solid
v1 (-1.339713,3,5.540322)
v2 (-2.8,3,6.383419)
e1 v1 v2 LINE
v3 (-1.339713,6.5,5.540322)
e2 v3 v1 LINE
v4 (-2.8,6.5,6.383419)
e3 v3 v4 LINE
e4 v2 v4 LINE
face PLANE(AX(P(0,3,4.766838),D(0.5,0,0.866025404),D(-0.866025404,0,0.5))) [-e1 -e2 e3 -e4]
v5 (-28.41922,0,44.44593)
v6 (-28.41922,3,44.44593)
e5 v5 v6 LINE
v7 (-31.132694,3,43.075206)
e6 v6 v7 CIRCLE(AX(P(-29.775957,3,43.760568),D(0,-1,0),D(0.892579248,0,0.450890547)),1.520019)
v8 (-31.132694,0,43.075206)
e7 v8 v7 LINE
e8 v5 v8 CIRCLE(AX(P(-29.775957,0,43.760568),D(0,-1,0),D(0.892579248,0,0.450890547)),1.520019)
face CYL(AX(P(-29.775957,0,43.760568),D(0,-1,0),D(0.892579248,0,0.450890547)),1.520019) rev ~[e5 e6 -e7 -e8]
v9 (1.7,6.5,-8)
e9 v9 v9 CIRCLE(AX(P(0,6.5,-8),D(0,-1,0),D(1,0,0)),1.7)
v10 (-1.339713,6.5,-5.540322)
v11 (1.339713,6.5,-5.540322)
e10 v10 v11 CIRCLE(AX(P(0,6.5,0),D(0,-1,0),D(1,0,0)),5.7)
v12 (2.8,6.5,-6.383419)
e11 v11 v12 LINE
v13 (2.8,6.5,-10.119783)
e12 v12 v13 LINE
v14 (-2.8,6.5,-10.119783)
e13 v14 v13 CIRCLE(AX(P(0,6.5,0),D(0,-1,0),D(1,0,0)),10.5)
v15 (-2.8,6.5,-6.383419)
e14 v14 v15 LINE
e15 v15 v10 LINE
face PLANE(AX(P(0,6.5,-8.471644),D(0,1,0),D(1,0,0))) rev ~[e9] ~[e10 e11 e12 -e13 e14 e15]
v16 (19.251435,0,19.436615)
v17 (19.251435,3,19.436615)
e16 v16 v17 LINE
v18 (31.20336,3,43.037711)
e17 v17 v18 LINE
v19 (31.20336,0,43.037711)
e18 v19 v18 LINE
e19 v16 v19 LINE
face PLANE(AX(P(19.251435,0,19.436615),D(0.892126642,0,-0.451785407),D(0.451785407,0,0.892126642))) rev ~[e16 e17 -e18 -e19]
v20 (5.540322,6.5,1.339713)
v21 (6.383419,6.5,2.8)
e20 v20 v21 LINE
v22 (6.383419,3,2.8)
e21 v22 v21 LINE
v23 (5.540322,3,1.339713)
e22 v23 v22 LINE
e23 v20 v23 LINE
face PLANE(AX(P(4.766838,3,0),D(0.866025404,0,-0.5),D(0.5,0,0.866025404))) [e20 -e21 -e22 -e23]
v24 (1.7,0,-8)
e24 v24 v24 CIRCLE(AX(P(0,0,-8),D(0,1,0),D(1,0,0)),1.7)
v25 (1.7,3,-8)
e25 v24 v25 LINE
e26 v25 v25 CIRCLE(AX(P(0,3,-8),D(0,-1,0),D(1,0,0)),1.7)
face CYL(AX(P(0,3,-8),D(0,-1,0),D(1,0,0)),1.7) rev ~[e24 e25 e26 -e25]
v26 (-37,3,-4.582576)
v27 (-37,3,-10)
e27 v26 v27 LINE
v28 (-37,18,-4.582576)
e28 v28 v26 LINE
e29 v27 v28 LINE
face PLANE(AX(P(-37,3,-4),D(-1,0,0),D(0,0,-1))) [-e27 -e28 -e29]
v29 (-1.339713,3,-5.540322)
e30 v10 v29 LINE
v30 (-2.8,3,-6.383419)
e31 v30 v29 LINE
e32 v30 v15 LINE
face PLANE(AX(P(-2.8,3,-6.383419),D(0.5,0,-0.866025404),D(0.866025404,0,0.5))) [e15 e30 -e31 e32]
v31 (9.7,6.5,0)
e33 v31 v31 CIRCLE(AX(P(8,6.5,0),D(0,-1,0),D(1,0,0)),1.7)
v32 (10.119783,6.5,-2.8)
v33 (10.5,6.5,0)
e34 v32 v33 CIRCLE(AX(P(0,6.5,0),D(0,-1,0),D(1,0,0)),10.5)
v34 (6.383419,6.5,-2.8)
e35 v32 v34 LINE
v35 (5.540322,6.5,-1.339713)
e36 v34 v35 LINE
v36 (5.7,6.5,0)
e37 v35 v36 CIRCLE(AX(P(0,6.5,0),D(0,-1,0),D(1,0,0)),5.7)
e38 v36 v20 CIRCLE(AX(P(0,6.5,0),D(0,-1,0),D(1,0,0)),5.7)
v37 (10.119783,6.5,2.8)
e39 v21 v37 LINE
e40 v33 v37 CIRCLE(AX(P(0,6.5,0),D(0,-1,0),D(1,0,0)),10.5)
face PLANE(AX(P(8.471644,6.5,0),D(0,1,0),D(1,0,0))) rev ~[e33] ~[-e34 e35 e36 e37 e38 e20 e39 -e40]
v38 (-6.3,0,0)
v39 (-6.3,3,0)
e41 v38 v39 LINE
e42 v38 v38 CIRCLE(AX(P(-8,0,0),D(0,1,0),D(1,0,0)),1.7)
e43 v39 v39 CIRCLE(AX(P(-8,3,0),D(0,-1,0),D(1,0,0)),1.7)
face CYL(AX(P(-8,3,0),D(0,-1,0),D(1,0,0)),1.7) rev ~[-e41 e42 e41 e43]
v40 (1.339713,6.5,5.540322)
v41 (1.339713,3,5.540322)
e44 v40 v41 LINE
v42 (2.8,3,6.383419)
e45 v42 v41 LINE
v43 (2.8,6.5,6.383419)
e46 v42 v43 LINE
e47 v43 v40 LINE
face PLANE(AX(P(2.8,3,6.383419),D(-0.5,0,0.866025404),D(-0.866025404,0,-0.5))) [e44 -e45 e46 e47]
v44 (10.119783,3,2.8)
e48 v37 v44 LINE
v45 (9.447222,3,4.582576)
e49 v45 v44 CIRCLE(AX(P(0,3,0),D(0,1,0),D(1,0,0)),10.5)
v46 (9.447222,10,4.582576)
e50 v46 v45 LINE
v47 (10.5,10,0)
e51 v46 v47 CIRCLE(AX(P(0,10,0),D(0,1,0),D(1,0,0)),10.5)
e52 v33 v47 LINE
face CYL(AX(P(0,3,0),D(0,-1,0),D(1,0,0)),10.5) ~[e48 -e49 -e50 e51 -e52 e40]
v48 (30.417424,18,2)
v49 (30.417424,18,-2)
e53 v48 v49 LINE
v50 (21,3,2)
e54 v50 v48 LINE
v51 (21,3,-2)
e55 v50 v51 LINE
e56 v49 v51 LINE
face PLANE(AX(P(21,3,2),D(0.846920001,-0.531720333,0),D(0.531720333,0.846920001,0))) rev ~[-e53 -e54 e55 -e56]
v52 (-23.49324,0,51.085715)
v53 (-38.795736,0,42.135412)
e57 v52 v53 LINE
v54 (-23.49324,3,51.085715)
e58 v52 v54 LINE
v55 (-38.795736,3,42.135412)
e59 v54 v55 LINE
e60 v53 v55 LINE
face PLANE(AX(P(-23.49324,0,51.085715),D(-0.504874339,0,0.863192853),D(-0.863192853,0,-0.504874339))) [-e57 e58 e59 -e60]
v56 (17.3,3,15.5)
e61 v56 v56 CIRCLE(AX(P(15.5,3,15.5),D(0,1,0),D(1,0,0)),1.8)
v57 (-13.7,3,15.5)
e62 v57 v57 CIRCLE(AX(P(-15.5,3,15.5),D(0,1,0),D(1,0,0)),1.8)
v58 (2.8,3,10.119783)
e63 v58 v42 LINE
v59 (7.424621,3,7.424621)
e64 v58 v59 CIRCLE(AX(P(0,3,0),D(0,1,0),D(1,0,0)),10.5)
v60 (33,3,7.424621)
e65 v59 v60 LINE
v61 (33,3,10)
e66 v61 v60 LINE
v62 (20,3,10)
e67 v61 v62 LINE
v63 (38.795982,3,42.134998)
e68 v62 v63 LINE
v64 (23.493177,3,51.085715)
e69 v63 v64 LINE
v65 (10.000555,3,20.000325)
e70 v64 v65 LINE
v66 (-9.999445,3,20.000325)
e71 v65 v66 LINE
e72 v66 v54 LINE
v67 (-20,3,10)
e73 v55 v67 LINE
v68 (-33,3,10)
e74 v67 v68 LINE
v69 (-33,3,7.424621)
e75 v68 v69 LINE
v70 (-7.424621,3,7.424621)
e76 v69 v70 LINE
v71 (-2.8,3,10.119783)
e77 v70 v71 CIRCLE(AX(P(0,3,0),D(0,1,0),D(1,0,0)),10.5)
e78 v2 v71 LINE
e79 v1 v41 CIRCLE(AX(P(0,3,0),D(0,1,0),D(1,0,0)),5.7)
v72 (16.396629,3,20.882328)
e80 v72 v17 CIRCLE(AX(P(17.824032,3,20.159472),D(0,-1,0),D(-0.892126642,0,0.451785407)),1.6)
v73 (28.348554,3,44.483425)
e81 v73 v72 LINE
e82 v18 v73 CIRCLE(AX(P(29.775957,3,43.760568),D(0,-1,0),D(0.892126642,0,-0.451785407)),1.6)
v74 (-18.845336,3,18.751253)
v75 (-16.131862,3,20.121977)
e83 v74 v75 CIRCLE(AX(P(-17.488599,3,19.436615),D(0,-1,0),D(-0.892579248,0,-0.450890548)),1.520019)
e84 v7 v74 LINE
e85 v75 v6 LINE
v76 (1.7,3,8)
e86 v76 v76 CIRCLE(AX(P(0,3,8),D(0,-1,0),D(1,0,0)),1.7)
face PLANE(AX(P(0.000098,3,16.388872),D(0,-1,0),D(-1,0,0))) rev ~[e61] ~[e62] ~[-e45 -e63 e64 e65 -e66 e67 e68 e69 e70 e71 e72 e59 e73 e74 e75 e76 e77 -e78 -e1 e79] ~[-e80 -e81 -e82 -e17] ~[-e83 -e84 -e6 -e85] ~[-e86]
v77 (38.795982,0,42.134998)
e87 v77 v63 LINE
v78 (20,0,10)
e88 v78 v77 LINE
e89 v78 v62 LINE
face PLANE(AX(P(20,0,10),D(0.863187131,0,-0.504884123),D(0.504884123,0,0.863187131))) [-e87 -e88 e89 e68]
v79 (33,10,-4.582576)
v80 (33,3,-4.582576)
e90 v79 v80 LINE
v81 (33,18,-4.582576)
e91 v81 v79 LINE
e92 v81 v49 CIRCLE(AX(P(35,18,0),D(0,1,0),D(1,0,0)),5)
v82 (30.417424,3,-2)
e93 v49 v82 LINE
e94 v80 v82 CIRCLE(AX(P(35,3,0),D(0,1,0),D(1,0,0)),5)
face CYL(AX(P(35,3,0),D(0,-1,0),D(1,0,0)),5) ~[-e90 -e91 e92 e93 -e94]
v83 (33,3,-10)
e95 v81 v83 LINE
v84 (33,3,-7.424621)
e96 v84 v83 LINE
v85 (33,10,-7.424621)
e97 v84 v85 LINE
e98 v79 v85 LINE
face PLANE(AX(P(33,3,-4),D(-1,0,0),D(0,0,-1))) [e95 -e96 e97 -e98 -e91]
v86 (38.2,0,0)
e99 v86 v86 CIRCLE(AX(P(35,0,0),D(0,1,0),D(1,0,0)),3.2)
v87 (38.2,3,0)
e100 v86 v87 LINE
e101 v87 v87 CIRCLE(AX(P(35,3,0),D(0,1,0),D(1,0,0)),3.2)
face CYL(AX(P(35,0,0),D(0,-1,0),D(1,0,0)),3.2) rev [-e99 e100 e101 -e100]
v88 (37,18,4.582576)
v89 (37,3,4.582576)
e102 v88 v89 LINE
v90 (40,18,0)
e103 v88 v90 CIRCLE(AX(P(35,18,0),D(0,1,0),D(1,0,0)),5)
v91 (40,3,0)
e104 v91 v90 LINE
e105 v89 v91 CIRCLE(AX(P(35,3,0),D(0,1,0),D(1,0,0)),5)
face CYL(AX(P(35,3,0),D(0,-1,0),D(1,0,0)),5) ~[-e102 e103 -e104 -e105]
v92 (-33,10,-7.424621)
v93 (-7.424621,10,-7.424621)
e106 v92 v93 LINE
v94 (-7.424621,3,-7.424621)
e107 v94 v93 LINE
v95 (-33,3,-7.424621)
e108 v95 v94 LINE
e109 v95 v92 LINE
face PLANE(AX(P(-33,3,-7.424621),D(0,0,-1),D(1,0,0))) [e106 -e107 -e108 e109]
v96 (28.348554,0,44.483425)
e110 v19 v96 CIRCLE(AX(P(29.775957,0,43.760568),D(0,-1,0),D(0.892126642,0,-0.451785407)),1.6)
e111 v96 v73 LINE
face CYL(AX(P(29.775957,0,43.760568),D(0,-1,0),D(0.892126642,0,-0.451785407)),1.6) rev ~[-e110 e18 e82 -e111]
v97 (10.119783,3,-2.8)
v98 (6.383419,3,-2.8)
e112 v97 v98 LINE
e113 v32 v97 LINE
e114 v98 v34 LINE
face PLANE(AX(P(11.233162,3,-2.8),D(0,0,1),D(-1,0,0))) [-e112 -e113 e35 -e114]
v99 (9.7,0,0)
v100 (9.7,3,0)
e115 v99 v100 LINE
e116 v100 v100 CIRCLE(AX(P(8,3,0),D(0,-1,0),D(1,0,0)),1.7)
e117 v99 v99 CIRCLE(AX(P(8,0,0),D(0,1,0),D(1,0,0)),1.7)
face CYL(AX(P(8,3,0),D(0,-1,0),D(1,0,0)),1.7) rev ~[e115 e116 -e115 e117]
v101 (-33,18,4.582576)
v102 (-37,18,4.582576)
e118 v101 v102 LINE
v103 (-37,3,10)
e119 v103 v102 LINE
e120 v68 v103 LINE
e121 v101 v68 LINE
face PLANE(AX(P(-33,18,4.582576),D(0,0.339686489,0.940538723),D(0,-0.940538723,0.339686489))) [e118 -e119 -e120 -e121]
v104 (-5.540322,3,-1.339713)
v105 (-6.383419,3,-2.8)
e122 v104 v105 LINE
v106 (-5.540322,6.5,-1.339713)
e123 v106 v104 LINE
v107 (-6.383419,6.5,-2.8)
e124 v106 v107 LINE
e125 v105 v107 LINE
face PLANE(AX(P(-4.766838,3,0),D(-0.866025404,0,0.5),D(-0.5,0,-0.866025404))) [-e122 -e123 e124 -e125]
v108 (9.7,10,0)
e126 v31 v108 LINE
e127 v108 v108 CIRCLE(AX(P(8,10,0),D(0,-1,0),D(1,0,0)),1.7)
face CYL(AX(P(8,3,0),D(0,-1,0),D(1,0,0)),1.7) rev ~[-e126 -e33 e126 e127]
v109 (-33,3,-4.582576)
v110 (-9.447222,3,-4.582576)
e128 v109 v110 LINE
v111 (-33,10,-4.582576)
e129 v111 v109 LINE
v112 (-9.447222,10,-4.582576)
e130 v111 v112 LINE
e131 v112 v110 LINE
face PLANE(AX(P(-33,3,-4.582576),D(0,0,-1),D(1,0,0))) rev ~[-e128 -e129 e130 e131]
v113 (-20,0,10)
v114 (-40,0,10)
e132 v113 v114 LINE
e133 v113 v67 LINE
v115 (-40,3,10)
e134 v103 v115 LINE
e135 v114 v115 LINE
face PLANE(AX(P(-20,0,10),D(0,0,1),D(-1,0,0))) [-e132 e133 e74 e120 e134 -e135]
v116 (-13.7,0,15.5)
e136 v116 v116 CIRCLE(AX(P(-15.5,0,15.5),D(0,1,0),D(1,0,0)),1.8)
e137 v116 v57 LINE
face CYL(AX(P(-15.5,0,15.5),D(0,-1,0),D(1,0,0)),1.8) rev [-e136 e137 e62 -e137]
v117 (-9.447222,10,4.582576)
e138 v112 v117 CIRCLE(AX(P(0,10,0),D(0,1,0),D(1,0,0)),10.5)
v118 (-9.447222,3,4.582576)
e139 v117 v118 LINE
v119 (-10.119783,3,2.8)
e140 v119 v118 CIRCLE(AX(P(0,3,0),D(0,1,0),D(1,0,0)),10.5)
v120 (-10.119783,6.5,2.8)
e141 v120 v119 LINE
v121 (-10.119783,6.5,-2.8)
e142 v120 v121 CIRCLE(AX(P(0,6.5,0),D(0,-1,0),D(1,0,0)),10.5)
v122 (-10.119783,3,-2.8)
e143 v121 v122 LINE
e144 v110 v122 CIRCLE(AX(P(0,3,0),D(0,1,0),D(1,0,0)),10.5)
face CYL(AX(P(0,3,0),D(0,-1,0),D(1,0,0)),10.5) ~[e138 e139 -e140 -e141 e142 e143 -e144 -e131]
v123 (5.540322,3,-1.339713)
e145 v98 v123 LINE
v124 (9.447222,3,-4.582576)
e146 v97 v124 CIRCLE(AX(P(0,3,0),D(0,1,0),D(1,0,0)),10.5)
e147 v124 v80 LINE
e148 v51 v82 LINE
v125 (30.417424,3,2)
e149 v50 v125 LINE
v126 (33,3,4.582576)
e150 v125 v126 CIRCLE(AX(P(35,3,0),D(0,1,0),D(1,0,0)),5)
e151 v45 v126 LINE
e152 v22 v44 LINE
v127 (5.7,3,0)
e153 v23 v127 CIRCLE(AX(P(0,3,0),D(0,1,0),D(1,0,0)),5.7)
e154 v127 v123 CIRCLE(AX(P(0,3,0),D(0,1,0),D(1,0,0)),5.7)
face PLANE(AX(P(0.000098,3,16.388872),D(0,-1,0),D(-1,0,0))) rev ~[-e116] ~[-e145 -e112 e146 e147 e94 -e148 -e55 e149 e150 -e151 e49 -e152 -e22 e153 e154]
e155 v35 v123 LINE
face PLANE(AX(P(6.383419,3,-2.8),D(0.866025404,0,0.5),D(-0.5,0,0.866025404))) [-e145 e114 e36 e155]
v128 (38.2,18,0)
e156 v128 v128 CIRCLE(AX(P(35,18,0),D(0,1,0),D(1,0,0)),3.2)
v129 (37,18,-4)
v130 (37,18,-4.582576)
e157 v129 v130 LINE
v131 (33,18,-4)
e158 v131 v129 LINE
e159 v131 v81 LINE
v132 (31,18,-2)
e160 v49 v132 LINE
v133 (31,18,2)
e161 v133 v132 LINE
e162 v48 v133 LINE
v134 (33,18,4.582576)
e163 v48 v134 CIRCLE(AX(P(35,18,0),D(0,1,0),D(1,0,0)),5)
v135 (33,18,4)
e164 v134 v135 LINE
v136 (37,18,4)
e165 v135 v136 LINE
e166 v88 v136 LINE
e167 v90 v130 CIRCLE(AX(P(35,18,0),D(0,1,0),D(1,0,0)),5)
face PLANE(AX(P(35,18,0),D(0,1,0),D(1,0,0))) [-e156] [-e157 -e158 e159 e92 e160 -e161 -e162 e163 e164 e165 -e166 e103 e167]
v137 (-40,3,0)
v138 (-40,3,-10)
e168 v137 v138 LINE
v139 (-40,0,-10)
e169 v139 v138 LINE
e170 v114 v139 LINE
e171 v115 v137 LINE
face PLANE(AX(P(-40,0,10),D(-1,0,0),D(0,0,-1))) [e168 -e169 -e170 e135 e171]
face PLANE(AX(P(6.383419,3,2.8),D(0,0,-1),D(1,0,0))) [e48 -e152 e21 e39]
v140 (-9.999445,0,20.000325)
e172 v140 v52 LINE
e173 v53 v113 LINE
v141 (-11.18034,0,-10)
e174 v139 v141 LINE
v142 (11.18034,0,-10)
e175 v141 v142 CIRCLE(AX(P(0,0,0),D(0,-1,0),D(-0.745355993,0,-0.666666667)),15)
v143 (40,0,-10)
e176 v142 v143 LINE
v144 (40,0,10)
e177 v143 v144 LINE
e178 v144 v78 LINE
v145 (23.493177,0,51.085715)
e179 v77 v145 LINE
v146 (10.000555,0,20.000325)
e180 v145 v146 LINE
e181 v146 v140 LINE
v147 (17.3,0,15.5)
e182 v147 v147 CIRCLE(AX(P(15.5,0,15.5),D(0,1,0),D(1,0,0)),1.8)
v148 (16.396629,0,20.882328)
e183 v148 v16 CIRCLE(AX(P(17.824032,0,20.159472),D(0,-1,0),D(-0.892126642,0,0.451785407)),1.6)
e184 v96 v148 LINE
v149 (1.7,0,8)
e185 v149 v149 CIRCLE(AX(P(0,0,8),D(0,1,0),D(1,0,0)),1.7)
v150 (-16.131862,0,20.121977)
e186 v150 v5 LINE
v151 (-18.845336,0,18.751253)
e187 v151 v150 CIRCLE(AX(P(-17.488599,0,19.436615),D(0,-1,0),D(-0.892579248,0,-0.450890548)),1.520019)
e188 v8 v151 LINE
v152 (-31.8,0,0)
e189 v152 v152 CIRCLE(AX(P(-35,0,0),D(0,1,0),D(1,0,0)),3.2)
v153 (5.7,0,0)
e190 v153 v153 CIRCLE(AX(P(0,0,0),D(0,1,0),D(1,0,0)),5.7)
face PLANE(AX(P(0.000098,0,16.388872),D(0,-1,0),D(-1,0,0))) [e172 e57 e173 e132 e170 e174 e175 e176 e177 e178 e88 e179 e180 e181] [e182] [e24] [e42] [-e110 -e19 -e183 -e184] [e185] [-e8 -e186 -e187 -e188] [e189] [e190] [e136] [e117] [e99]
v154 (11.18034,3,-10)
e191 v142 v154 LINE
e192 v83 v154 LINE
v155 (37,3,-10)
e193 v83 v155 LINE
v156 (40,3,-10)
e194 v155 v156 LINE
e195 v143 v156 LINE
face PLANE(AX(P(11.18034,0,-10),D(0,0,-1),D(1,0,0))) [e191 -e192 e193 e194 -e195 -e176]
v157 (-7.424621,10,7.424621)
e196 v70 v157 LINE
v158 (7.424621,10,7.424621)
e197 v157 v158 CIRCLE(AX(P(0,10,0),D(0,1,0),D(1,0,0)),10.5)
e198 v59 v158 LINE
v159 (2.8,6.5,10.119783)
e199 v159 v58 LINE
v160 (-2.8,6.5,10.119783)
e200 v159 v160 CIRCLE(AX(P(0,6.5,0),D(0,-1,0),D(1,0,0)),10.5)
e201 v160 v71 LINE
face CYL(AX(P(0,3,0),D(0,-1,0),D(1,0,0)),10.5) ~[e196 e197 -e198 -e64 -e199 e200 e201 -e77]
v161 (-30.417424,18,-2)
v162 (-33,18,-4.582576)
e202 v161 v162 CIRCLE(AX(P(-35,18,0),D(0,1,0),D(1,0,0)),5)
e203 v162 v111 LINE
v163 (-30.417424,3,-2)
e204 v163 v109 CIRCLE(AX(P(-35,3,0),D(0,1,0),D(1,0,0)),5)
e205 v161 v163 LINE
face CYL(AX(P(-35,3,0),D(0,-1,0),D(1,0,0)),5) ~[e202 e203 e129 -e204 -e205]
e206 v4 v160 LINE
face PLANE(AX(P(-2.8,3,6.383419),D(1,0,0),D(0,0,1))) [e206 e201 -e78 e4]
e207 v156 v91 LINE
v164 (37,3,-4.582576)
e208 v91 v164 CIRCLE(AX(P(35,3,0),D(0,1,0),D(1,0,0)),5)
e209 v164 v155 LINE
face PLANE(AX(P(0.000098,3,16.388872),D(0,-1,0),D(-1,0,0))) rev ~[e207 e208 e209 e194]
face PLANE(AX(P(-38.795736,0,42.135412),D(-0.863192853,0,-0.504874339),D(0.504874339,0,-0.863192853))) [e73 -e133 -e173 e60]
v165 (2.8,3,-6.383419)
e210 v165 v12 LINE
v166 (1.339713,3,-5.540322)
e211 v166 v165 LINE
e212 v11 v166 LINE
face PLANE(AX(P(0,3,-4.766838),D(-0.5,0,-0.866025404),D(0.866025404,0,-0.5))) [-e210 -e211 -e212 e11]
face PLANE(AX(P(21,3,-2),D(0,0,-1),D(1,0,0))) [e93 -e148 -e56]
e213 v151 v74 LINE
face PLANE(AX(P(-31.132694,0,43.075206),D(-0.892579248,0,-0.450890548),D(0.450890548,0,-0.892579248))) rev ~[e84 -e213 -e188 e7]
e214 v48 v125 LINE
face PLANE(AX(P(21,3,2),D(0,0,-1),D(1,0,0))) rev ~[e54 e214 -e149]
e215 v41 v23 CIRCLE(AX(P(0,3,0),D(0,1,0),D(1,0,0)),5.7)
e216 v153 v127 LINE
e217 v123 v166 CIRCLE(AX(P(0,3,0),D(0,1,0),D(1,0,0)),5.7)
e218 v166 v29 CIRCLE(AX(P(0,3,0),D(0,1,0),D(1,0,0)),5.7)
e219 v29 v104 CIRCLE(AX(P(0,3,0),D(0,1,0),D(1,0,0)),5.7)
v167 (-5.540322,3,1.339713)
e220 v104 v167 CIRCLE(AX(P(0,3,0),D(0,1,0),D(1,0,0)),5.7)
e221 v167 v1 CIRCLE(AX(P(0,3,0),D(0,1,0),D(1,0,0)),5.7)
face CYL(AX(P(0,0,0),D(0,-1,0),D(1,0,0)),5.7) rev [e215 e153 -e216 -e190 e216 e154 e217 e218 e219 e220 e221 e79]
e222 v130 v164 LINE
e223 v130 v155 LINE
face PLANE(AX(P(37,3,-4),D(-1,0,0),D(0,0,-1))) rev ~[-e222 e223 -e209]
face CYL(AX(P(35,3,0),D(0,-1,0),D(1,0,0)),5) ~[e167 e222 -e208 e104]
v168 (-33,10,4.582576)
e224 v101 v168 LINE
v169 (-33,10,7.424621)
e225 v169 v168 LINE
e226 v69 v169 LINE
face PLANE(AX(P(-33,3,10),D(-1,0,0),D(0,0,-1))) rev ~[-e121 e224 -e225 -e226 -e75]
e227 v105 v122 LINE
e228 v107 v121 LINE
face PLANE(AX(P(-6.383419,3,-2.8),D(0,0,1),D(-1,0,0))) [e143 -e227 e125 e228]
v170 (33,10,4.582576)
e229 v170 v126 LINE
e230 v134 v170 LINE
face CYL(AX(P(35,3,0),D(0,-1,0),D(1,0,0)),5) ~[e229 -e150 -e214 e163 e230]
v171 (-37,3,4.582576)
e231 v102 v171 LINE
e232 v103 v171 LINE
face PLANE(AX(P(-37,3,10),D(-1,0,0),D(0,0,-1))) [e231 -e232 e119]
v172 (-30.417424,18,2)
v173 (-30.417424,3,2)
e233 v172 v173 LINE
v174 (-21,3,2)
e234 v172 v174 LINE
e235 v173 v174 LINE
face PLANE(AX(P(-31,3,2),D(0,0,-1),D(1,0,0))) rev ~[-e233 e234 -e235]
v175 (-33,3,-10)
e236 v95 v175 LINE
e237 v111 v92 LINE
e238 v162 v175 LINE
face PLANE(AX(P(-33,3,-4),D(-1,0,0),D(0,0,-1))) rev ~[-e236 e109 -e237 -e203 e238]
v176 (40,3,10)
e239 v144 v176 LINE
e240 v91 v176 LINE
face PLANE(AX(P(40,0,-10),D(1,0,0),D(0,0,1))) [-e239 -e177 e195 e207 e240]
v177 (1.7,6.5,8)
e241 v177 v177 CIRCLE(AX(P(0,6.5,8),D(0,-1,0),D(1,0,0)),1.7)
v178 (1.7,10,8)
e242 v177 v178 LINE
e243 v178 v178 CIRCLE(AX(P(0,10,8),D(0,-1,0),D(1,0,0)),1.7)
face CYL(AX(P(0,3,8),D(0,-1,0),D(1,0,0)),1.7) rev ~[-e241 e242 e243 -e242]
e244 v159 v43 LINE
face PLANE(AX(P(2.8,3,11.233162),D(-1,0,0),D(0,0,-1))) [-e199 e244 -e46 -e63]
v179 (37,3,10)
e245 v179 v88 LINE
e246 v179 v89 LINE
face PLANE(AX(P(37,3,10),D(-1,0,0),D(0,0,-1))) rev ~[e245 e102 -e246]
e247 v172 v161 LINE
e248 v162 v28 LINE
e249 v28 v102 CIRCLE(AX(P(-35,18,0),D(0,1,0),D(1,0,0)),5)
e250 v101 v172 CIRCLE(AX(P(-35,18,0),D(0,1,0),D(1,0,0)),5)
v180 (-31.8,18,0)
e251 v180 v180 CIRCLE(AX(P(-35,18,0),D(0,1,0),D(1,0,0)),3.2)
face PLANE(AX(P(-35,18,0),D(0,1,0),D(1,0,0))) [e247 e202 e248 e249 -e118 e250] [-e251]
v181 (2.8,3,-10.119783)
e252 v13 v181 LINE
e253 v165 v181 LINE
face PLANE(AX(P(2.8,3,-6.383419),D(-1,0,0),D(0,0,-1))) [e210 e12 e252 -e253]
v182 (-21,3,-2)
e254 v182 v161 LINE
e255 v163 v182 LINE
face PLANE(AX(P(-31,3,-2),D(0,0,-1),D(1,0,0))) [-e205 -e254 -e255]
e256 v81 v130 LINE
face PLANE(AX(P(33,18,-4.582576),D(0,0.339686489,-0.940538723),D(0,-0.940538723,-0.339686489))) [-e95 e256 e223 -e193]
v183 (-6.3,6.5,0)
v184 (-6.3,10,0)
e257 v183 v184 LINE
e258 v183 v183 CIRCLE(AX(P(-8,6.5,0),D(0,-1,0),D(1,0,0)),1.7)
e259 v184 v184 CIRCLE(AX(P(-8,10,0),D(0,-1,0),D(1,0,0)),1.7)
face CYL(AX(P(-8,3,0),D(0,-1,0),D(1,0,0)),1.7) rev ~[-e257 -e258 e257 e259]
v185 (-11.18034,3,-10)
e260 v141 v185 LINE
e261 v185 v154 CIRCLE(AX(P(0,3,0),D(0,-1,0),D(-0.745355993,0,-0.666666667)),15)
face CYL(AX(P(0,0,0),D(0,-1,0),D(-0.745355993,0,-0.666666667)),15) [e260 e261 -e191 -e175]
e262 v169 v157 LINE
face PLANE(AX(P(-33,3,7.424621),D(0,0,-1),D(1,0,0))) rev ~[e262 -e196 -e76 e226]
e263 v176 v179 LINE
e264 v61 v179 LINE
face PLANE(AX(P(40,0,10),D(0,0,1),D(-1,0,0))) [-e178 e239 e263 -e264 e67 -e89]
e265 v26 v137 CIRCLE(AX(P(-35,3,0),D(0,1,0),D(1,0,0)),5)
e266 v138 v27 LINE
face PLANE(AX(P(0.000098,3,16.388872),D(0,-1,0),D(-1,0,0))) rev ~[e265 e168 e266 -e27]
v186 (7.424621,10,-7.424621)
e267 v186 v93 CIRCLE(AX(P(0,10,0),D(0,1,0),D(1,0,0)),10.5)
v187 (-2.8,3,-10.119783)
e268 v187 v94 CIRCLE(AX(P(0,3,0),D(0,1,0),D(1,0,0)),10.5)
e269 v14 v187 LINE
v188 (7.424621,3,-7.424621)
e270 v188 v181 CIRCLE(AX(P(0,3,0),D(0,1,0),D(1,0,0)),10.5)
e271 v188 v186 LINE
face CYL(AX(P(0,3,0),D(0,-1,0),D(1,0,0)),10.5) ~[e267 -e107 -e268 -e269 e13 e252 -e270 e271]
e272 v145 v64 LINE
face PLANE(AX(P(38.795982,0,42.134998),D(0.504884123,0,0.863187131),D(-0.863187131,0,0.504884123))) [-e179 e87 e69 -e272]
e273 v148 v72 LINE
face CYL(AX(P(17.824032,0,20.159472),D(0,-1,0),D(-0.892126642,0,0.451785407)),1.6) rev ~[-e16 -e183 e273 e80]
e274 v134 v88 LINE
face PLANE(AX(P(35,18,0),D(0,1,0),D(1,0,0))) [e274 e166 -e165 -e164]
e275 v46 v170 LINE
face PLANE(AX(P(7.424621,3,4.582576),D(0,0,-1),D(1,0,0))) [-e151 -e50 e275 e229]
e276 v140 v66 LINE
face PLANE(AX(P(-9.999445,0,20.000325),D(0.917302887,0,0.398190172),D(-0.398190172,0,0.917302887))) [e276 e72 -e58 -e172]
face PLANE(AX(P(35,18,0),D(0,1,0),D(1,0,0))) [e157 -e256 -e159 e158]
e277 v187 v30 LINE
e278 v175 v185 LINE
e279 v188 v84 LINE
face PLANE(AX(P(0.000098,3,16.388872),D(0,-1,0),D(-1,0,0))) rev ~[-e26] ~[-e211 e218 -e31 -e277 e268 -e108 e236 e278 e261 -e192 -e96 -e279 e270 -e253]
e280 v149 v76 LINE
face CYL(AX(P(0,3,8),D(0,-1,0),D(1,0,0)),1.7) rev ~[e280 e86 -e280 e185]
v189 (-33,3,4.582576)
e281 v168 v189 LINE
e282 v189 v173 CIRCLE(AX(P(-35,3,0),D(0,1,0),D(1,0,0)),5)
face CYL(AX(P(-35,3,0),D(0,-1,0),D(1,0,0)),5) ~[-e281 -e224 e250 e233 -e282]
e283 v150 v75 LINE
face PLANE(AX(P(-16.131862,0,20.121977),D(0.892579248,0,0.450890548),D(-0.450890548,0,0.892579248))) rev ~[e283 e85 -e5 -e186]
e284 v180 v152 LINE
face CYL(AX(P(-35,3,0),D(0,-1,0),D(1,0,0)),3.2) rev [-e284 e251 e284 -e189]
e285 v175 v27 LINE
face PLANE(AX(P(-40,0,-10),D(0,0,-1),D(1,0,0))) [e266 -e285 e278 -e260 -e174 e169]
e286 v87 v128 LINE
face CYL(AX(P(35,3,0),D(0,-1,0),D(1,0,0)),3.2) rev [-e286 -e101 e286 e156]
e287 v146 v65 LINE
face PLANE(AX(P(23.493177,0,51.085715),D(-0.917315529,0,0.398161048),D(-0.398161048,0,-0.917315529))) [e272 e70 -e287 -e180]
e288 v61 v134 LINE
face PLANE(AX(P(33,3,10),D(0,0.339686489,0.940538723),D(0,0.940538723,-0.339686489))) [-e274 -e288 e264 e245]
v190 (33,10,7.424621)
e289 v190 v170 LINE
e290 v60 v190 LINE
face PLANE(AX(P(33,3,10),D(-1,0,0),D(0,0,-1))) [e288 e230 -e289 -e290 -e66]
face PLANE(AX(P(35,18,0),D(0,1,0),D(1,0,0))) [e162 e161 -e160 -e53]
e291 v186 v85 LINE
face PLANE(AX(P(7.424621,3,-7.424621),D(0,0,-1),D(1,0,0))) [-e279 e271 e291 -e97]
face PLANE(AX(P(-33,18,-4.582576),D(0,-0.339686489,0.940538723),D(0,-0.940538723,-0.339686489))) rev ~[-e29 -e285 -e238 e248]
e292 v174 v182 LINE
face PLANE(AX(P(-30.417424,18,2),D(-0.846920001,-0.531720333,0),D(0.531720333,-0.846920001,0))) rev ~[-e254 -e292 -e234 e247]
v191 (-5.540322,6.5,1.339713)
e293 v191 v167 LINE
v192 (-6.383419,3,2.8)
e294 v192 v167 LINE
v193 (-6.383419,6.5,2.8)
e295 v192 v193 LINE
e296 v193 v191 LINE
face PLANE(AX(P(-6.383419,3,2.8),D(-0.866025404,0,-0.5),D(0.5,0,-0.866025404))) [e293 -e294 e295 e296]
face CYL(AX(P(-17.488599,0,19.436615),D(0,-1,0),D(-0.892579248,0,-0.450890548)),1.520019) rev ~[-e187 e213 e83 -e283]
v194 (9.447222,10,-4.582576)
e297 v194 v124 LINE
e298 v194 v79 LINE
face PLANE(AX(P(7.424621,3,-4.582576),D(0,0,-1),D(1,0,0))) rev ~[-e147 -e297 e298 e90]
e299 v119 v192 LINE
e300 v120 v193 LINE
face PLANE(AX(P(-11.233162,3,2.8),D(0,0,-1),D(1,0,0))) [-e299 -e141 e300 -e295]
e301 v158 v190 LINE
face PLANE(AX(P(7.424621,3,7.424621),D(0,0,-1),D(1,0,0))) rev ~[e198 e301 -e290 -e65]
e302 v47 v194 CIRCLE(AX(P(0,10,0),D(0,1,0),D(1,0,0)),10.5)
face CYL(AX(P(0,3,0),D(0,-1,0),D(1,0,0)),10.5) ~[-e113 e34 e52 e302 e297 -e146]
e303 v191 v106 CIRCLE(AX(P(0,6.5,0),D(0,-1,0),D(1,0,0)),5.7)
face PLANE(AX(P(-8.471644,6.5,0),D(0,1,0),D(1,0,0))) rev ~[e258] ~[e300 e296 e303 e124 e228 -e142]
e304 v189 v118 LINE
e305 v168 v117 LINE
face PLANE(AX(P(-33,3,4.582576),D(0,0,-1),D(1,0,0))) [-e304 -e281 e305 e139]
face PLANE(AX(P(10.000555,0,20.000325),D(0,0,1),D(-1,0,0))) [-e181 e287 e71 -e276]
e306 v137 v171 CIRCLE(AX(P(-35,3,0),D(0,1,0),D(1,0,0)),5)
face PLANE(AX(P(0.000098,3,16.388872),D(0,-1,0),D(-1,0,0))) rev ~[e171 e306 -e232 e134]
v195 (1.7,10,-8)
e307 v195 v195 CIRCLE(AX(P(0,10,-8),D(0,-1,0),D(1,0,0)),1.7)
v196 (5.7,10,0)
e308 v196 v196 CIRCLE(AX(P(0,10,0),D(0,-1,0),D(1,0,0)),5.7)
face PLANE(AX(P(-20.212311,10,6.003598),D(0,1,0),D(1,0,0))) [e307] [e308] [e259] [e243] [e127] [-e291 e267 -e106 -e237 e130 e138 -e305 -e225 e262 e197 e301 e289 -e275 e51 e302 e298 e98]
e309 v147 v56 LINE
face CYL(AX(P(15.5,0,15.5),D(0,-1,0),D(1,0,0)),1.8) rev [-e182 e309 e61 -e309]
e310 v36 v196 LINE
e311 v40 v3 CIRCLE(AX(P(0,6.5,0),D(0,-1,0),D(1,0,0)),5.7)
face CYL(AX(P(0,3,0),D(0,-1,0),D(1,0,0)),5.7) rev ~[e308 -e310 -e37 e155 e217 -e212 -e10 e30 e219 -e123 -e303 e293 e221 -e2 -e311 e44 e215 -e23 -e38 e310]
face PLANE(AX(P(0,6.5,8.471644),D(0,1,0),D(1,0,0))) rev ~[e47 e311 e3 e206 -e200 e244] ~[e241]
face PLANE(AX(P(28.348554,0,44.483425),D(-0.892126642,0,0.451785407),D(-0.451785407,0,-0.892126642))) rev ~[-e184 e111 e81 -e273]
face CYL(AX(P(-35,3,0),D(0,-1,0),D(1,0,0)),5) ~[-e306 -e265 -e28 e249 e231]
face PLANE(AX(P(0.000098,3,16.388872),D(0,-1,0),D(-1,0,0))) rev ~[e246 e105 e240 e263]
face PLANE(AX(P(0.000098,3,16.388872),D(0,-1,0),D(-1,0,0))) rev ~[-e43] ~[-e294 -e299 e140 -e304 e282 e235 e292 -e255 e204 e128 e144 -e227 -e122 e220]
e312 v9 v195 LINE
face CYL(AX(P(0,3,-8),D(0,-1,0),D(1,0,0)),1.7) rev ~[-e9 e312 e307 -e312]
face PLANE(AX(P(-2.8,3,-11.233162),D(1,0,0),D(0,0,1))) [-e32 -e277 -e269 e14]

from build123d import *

# Parameters (mm, degrees)
SKETCH_1_R          = 3.2
SKETCH_1_R_2        = 1.8
SKETCH_1_R_3        = 5.7
SKETCH_1_R_4        = 1.7
EXTRUDE_1_DEPTH     = 3
SKETCH_2_R          = 10.5
EXTRUDE_2_DEPTH     = 7
SKETCH_4_R          = 1.7
CUT_EXTRUDE_1_DEPTH = 7
CUT_EXTRUDE_2_DEPTH = 3.5
SKETCH_6_R          = 5.7
CUT_EXTRUDE_3_DEPTH = 20
SKETCH_7_R          = 5
SKETCH_7_R_2        = 3.2
EXTRUDE_3_DEPTH     = 15
SKETCH_8_W          = 10
SKETCH_8_H          = 4
SKETCH_8_W_2        = 4
SKETCH_8_H_2        = 6
EXTRUDE_4_DEPTH     = 15
CUT_EXTRUDE_4_DEPTH = 15
CUT_EXTRUDE_5_DEPTH = 15
CUT_EXTRUDE_6_DEPTH = 15
SKETCH_12_W         = 25.575378798
SKETCH_12_H         = 2.842045507
EXTRUDE_5_DEPTH     = 7


with BuildPart() as part:
    # 草图1 → 凸台-拉伸1 (new body)
    with BuildSketch(Plane(origin=(0, 0, 0), x_dir=(1, 0, 0), z_dir=(0, 1, 0))):
        with BuildLine():
            Line((-35.081832586, -10), (-40, -10))
            Line((-40, -10), (-40, 10))
            Line((-40, 10), (-11.180339887, 10))
            ThreePointArc((-11.180339887, 10), (0, 15), (11.180339887, 10))
            Line((11.180339887, 10), (40, 10))
            Line((40, 10), (40, -10))
            Line((40, -10), (20, -10))
            Line((20, -10), (38.795982487, -42.134997854))
            Line((38.795982487, -42.134997854), (23.493176713, -51.085714784))
            Line((23.493176713, -51.085714784), (10.00055485, -20.000324527))
            Line((10.00055485, -20.000324527), (-9.99944515, -20.000324527))
            Line((-9.99944515, -20.000324527), (-23.493239928, -51.085714784))
            Line((-23.493239928, -51.085714784), (-38.79573581, -42.1354119))
            Line((-38.79573581, -42.1354119), (-20, -10))
            Line((-20, -10), (-35.081832586, -10))
        make_face()
        with Locations((35, 0)):
            Circle(SKETCH_1_R, mode=Mode.SUBTRACT)
        with Locations((-15.5, -15.5)):
            Circle(SKETCH_1_R_2, mode=Mode.SUBTRACT)
        with Locations((15.5, -15.5)):
            Circle(SKETCH_1_R_2, mode=Mode.SUBTRACT)
        with Locations((-35, 0)):
            Circle(SKETCH_1_R, mode=Mode.SUBTRACT)
        Circle(SKETCH_1_R_3, mode=Mode.SUBTRACT)
        with Locations((-8, 0)):
            Circle(SKETCH_1_R_4, mode=Mode.SUBTRACT)
        with Locations((0, 8)):
            Circle(SKETCH_1_R_4, mode=Mode.SUBTRACT)
        with Locations((8, 0)):
            Circle(SKETCH_1_R_4, mode=Mode.SUBTRACT)
        with Locations((0, -8)):
            Circle(SKETCH_1_R_4, mode=Mode.SUBTRACT)
        with BuildLine():
            Line((-16.131862345, -20.121977189), (-28.419219954, -44.445930008))
            ThreePointArc((-28.419219954, -44.445930008), (-30.461319047, -45.117305053), (-31.132694091, -43.07520596))
            Line((-31.132694091, -43.07520596), (-18.845336482, -18.75125314))
            ThreePointArc((-18.845336482, -18.75125314), (-16.803237389, -18.079878096), (-16.131862345, -20.121977189))
        make_face(mode=Mode.SUBTRACT)
        with BuildLine():
            Line((19.251434516, -19.436615165), (31.203359651, -43.037711333))
            ThreePointArc((31.203359651, -43.037711333), (30.498813674, -45.187970612), (28.348554395, -44.483424635))
            Line((28.348554395, -44.483424635), (16.39662926, -20.882328467))
            ThreePointArc((16.39662926, -20.882328467), (17.101175237, -18.732069188), (19.251434516, -19.436615165))
        make_face(mode=Mode.SUBTRACT)
    extrude(amount=EXTRUDE_1_DEPTH)

    # 草图2 → 凸台-拉伸2 (add)
    with BuildSketch(Plane(origin=(0, 3, 0), x_dir=(1, 0, 0), z_dir=(0, 1, 0))):
        Circle(SKETCH_2_R)
    extrude(amount=EXTRUDE_2_DEPTH)

    # 草图4 → 切除-拉伸1 (cut)
    with BuildSketch(Plane.XZ.offset(-3)):
        with Locations((0, -8)):
            Circle(SKETCH_4_R)
        with Locations((-8, 0)):
            Circle(SKETCH_4_R)
        with Locations((8, 0)):
            Circle(SKETCH_4_R)
        with Locations((0, 8)):
            Circle(SKETCH_4_R)
    extrude(amount=-CUT_EXTRUDE_1_DEPTH, mode=Mode.SUBTRACT)

    # 草图5 → 切除-拉伸2 (cut)
    with BuildSketch(Plane(origin=(0, 3, 0), x_dir=(1, 0, 0), z_dir=(0, 1, 0))):
        Polygon((-4.766838493, 0), (-6.383419246, 2.8), (-11.233161507, 2.8), (-11.233161507, -2.8), (-6.383419246, -2.8), align=None)
        Polygon((4.766838493, 0), (6.383419246, -2.8), (11.233161507, -2.8), (11.233161507, 2.8), (6.383419246, 2.8), align=None)
        Polygon((-2.8, 11.233161507), (-2.8, 6.383419246), (0, 4.766838493), (2.8, 6.383419246), (2.8, 11.233161507), align=None)
        Polygon((0, -4.766838493), (-2.8, -6.383419246), (-2.8, -11.233161507), (2.8, -11.233161507), (2.8, -6.383419246), align=None)
    extrude(amount=CUT_EXTRUDE_2_DEPTH, mode=Mode.SUBTRACT)

    # 草图6 → 切除-拉伸3 (cut)
    with BuildSketch(Plane.XZ.offset(-3)):
        Circle(SKETCH_6_R)
    extrude(amount=-CUT_EXTRUDE_3_DEPTH, mode=Mode.SUBTRACT)

    # 草图7 → 凸台-拉伸3 (add)
    with BuildSketch(Plane(origin=(0, 3, 0), x_dir=(1, 0, 0), z_dir=(0, 1, 0))):
        with Locations((-35, 0)):
            Circle(SKETCH_7_R)
        with Locations((-35, 0)):
            Circle(SKETCH_7_R_2, mode=Mode.SUBTRACT)
        with Locations((35, 0)):
            Circle(SKETCH_7_R)
        with Locations((35, 0)):
            Circle(SKETCH_7_R_2, mode=Mode.SUBTRACT)
    extrude(amount=EXTRUDE_3_DEPTH)

    # 草图8 → 凸台-拉伸4 (add)
    with BuildSketch(Plane(origin=(0, 3, 0), x_dir=(1, 0, 0), z_dir=(0, 1, 0))):
        with Locations((-26, 0)):
            Rectangle(SKETCH_8_W, SKETCH_8_H)
        with Locations((-35, 7)):
            Rectangle(SKETCH_8_W_2, SKETCH_8_H_2)
        with Locations((-35, -7)):
            Rectangle(SKETCH_8_W_2, SKETCH_8_H_2)
        with Locations((26, 0)):
            Rectangle(SKETCH_8_W, SKETCH_8_H)
        with Locations((35, 7)):
            Rectangle(SKETCH_8_W_2, SKETCH_8_H_2)
        with Locations((35, -7)):
            Rectangle(SKETCH_8_W_2, SKETCH_8_H_2)
    extrude(amount=EXTRUDE_4_DEPTH)

    # 草图9 → 切除-拉伸4 (cut)
    with BuildSketch(Plane.XY.offset(2)):
        Polygon((-30.417424305, 18), (-21, 3), (-21, 18), align=None)
        Polygon((21, 3), (30.417424305, 18), (21, 18), align=None)
    extrude(amount=-CUT_EXTRUDE_4_DEPTH, mode=Mode.SUBTRACT)

    # 草图10 → 切除-拉伸5 (cut)
    with BuildSketch(Plane.ZY.offset(-33)):
        Polygon((-4.582575695, 18), (-10, 3), (-10, 18), align=None)
        Polygon((4.582575695, 18), (10, 18), (10, 3), align=None)
    extrude(amount=-CUT_EXTRUDE_5_DEPTH, mode=Mode.SUBTRACT)

    # 草图11 → 切除-拉伸6 (cut)
    with BuildSketch(Plane(origin=(-33, 0, 0), x_dir=(0, 0, -1), z_dir=(1, 0, 0))):
        Polygon((-4.582575695, 18), (-10, 3), (-10, 18), align=None)
        Polygon((4.582575695, 18), (10, 3), (10, 18), align=None)
    extrude(amount=-CUT_EXTRUDE_6_DEPTH, mode=Mode.SUBTRACT)

    # 草图12 → 凸台-拉伸5 (add)
    with BuildSketch(Plane(origin=(0, 3, 0), x_dir=(1, 0, 0), z_dir=(0, 1, 0))):
        with Locations((-20.212310601, -6.003598449)):
            Rectangle(SKETCH_12_W, SKETCH_12_H)
        with Locations((-20.212310601, 6.003598449)):
            Rectangle(SKETCH_12_W, SKETCH_12_H)
        with Locations((20.212310601, 6.003598449)):
            Rectangle(SKETCH_12_W, SKETCH_12_H)
        with Locations((20.212310601, -6.003598449)):
            Rectangle(SKETCH_12_W, SKETCH_12_H)
    extrude(amount=EXTRUDE_5_DEPTH)


solid = part.part
